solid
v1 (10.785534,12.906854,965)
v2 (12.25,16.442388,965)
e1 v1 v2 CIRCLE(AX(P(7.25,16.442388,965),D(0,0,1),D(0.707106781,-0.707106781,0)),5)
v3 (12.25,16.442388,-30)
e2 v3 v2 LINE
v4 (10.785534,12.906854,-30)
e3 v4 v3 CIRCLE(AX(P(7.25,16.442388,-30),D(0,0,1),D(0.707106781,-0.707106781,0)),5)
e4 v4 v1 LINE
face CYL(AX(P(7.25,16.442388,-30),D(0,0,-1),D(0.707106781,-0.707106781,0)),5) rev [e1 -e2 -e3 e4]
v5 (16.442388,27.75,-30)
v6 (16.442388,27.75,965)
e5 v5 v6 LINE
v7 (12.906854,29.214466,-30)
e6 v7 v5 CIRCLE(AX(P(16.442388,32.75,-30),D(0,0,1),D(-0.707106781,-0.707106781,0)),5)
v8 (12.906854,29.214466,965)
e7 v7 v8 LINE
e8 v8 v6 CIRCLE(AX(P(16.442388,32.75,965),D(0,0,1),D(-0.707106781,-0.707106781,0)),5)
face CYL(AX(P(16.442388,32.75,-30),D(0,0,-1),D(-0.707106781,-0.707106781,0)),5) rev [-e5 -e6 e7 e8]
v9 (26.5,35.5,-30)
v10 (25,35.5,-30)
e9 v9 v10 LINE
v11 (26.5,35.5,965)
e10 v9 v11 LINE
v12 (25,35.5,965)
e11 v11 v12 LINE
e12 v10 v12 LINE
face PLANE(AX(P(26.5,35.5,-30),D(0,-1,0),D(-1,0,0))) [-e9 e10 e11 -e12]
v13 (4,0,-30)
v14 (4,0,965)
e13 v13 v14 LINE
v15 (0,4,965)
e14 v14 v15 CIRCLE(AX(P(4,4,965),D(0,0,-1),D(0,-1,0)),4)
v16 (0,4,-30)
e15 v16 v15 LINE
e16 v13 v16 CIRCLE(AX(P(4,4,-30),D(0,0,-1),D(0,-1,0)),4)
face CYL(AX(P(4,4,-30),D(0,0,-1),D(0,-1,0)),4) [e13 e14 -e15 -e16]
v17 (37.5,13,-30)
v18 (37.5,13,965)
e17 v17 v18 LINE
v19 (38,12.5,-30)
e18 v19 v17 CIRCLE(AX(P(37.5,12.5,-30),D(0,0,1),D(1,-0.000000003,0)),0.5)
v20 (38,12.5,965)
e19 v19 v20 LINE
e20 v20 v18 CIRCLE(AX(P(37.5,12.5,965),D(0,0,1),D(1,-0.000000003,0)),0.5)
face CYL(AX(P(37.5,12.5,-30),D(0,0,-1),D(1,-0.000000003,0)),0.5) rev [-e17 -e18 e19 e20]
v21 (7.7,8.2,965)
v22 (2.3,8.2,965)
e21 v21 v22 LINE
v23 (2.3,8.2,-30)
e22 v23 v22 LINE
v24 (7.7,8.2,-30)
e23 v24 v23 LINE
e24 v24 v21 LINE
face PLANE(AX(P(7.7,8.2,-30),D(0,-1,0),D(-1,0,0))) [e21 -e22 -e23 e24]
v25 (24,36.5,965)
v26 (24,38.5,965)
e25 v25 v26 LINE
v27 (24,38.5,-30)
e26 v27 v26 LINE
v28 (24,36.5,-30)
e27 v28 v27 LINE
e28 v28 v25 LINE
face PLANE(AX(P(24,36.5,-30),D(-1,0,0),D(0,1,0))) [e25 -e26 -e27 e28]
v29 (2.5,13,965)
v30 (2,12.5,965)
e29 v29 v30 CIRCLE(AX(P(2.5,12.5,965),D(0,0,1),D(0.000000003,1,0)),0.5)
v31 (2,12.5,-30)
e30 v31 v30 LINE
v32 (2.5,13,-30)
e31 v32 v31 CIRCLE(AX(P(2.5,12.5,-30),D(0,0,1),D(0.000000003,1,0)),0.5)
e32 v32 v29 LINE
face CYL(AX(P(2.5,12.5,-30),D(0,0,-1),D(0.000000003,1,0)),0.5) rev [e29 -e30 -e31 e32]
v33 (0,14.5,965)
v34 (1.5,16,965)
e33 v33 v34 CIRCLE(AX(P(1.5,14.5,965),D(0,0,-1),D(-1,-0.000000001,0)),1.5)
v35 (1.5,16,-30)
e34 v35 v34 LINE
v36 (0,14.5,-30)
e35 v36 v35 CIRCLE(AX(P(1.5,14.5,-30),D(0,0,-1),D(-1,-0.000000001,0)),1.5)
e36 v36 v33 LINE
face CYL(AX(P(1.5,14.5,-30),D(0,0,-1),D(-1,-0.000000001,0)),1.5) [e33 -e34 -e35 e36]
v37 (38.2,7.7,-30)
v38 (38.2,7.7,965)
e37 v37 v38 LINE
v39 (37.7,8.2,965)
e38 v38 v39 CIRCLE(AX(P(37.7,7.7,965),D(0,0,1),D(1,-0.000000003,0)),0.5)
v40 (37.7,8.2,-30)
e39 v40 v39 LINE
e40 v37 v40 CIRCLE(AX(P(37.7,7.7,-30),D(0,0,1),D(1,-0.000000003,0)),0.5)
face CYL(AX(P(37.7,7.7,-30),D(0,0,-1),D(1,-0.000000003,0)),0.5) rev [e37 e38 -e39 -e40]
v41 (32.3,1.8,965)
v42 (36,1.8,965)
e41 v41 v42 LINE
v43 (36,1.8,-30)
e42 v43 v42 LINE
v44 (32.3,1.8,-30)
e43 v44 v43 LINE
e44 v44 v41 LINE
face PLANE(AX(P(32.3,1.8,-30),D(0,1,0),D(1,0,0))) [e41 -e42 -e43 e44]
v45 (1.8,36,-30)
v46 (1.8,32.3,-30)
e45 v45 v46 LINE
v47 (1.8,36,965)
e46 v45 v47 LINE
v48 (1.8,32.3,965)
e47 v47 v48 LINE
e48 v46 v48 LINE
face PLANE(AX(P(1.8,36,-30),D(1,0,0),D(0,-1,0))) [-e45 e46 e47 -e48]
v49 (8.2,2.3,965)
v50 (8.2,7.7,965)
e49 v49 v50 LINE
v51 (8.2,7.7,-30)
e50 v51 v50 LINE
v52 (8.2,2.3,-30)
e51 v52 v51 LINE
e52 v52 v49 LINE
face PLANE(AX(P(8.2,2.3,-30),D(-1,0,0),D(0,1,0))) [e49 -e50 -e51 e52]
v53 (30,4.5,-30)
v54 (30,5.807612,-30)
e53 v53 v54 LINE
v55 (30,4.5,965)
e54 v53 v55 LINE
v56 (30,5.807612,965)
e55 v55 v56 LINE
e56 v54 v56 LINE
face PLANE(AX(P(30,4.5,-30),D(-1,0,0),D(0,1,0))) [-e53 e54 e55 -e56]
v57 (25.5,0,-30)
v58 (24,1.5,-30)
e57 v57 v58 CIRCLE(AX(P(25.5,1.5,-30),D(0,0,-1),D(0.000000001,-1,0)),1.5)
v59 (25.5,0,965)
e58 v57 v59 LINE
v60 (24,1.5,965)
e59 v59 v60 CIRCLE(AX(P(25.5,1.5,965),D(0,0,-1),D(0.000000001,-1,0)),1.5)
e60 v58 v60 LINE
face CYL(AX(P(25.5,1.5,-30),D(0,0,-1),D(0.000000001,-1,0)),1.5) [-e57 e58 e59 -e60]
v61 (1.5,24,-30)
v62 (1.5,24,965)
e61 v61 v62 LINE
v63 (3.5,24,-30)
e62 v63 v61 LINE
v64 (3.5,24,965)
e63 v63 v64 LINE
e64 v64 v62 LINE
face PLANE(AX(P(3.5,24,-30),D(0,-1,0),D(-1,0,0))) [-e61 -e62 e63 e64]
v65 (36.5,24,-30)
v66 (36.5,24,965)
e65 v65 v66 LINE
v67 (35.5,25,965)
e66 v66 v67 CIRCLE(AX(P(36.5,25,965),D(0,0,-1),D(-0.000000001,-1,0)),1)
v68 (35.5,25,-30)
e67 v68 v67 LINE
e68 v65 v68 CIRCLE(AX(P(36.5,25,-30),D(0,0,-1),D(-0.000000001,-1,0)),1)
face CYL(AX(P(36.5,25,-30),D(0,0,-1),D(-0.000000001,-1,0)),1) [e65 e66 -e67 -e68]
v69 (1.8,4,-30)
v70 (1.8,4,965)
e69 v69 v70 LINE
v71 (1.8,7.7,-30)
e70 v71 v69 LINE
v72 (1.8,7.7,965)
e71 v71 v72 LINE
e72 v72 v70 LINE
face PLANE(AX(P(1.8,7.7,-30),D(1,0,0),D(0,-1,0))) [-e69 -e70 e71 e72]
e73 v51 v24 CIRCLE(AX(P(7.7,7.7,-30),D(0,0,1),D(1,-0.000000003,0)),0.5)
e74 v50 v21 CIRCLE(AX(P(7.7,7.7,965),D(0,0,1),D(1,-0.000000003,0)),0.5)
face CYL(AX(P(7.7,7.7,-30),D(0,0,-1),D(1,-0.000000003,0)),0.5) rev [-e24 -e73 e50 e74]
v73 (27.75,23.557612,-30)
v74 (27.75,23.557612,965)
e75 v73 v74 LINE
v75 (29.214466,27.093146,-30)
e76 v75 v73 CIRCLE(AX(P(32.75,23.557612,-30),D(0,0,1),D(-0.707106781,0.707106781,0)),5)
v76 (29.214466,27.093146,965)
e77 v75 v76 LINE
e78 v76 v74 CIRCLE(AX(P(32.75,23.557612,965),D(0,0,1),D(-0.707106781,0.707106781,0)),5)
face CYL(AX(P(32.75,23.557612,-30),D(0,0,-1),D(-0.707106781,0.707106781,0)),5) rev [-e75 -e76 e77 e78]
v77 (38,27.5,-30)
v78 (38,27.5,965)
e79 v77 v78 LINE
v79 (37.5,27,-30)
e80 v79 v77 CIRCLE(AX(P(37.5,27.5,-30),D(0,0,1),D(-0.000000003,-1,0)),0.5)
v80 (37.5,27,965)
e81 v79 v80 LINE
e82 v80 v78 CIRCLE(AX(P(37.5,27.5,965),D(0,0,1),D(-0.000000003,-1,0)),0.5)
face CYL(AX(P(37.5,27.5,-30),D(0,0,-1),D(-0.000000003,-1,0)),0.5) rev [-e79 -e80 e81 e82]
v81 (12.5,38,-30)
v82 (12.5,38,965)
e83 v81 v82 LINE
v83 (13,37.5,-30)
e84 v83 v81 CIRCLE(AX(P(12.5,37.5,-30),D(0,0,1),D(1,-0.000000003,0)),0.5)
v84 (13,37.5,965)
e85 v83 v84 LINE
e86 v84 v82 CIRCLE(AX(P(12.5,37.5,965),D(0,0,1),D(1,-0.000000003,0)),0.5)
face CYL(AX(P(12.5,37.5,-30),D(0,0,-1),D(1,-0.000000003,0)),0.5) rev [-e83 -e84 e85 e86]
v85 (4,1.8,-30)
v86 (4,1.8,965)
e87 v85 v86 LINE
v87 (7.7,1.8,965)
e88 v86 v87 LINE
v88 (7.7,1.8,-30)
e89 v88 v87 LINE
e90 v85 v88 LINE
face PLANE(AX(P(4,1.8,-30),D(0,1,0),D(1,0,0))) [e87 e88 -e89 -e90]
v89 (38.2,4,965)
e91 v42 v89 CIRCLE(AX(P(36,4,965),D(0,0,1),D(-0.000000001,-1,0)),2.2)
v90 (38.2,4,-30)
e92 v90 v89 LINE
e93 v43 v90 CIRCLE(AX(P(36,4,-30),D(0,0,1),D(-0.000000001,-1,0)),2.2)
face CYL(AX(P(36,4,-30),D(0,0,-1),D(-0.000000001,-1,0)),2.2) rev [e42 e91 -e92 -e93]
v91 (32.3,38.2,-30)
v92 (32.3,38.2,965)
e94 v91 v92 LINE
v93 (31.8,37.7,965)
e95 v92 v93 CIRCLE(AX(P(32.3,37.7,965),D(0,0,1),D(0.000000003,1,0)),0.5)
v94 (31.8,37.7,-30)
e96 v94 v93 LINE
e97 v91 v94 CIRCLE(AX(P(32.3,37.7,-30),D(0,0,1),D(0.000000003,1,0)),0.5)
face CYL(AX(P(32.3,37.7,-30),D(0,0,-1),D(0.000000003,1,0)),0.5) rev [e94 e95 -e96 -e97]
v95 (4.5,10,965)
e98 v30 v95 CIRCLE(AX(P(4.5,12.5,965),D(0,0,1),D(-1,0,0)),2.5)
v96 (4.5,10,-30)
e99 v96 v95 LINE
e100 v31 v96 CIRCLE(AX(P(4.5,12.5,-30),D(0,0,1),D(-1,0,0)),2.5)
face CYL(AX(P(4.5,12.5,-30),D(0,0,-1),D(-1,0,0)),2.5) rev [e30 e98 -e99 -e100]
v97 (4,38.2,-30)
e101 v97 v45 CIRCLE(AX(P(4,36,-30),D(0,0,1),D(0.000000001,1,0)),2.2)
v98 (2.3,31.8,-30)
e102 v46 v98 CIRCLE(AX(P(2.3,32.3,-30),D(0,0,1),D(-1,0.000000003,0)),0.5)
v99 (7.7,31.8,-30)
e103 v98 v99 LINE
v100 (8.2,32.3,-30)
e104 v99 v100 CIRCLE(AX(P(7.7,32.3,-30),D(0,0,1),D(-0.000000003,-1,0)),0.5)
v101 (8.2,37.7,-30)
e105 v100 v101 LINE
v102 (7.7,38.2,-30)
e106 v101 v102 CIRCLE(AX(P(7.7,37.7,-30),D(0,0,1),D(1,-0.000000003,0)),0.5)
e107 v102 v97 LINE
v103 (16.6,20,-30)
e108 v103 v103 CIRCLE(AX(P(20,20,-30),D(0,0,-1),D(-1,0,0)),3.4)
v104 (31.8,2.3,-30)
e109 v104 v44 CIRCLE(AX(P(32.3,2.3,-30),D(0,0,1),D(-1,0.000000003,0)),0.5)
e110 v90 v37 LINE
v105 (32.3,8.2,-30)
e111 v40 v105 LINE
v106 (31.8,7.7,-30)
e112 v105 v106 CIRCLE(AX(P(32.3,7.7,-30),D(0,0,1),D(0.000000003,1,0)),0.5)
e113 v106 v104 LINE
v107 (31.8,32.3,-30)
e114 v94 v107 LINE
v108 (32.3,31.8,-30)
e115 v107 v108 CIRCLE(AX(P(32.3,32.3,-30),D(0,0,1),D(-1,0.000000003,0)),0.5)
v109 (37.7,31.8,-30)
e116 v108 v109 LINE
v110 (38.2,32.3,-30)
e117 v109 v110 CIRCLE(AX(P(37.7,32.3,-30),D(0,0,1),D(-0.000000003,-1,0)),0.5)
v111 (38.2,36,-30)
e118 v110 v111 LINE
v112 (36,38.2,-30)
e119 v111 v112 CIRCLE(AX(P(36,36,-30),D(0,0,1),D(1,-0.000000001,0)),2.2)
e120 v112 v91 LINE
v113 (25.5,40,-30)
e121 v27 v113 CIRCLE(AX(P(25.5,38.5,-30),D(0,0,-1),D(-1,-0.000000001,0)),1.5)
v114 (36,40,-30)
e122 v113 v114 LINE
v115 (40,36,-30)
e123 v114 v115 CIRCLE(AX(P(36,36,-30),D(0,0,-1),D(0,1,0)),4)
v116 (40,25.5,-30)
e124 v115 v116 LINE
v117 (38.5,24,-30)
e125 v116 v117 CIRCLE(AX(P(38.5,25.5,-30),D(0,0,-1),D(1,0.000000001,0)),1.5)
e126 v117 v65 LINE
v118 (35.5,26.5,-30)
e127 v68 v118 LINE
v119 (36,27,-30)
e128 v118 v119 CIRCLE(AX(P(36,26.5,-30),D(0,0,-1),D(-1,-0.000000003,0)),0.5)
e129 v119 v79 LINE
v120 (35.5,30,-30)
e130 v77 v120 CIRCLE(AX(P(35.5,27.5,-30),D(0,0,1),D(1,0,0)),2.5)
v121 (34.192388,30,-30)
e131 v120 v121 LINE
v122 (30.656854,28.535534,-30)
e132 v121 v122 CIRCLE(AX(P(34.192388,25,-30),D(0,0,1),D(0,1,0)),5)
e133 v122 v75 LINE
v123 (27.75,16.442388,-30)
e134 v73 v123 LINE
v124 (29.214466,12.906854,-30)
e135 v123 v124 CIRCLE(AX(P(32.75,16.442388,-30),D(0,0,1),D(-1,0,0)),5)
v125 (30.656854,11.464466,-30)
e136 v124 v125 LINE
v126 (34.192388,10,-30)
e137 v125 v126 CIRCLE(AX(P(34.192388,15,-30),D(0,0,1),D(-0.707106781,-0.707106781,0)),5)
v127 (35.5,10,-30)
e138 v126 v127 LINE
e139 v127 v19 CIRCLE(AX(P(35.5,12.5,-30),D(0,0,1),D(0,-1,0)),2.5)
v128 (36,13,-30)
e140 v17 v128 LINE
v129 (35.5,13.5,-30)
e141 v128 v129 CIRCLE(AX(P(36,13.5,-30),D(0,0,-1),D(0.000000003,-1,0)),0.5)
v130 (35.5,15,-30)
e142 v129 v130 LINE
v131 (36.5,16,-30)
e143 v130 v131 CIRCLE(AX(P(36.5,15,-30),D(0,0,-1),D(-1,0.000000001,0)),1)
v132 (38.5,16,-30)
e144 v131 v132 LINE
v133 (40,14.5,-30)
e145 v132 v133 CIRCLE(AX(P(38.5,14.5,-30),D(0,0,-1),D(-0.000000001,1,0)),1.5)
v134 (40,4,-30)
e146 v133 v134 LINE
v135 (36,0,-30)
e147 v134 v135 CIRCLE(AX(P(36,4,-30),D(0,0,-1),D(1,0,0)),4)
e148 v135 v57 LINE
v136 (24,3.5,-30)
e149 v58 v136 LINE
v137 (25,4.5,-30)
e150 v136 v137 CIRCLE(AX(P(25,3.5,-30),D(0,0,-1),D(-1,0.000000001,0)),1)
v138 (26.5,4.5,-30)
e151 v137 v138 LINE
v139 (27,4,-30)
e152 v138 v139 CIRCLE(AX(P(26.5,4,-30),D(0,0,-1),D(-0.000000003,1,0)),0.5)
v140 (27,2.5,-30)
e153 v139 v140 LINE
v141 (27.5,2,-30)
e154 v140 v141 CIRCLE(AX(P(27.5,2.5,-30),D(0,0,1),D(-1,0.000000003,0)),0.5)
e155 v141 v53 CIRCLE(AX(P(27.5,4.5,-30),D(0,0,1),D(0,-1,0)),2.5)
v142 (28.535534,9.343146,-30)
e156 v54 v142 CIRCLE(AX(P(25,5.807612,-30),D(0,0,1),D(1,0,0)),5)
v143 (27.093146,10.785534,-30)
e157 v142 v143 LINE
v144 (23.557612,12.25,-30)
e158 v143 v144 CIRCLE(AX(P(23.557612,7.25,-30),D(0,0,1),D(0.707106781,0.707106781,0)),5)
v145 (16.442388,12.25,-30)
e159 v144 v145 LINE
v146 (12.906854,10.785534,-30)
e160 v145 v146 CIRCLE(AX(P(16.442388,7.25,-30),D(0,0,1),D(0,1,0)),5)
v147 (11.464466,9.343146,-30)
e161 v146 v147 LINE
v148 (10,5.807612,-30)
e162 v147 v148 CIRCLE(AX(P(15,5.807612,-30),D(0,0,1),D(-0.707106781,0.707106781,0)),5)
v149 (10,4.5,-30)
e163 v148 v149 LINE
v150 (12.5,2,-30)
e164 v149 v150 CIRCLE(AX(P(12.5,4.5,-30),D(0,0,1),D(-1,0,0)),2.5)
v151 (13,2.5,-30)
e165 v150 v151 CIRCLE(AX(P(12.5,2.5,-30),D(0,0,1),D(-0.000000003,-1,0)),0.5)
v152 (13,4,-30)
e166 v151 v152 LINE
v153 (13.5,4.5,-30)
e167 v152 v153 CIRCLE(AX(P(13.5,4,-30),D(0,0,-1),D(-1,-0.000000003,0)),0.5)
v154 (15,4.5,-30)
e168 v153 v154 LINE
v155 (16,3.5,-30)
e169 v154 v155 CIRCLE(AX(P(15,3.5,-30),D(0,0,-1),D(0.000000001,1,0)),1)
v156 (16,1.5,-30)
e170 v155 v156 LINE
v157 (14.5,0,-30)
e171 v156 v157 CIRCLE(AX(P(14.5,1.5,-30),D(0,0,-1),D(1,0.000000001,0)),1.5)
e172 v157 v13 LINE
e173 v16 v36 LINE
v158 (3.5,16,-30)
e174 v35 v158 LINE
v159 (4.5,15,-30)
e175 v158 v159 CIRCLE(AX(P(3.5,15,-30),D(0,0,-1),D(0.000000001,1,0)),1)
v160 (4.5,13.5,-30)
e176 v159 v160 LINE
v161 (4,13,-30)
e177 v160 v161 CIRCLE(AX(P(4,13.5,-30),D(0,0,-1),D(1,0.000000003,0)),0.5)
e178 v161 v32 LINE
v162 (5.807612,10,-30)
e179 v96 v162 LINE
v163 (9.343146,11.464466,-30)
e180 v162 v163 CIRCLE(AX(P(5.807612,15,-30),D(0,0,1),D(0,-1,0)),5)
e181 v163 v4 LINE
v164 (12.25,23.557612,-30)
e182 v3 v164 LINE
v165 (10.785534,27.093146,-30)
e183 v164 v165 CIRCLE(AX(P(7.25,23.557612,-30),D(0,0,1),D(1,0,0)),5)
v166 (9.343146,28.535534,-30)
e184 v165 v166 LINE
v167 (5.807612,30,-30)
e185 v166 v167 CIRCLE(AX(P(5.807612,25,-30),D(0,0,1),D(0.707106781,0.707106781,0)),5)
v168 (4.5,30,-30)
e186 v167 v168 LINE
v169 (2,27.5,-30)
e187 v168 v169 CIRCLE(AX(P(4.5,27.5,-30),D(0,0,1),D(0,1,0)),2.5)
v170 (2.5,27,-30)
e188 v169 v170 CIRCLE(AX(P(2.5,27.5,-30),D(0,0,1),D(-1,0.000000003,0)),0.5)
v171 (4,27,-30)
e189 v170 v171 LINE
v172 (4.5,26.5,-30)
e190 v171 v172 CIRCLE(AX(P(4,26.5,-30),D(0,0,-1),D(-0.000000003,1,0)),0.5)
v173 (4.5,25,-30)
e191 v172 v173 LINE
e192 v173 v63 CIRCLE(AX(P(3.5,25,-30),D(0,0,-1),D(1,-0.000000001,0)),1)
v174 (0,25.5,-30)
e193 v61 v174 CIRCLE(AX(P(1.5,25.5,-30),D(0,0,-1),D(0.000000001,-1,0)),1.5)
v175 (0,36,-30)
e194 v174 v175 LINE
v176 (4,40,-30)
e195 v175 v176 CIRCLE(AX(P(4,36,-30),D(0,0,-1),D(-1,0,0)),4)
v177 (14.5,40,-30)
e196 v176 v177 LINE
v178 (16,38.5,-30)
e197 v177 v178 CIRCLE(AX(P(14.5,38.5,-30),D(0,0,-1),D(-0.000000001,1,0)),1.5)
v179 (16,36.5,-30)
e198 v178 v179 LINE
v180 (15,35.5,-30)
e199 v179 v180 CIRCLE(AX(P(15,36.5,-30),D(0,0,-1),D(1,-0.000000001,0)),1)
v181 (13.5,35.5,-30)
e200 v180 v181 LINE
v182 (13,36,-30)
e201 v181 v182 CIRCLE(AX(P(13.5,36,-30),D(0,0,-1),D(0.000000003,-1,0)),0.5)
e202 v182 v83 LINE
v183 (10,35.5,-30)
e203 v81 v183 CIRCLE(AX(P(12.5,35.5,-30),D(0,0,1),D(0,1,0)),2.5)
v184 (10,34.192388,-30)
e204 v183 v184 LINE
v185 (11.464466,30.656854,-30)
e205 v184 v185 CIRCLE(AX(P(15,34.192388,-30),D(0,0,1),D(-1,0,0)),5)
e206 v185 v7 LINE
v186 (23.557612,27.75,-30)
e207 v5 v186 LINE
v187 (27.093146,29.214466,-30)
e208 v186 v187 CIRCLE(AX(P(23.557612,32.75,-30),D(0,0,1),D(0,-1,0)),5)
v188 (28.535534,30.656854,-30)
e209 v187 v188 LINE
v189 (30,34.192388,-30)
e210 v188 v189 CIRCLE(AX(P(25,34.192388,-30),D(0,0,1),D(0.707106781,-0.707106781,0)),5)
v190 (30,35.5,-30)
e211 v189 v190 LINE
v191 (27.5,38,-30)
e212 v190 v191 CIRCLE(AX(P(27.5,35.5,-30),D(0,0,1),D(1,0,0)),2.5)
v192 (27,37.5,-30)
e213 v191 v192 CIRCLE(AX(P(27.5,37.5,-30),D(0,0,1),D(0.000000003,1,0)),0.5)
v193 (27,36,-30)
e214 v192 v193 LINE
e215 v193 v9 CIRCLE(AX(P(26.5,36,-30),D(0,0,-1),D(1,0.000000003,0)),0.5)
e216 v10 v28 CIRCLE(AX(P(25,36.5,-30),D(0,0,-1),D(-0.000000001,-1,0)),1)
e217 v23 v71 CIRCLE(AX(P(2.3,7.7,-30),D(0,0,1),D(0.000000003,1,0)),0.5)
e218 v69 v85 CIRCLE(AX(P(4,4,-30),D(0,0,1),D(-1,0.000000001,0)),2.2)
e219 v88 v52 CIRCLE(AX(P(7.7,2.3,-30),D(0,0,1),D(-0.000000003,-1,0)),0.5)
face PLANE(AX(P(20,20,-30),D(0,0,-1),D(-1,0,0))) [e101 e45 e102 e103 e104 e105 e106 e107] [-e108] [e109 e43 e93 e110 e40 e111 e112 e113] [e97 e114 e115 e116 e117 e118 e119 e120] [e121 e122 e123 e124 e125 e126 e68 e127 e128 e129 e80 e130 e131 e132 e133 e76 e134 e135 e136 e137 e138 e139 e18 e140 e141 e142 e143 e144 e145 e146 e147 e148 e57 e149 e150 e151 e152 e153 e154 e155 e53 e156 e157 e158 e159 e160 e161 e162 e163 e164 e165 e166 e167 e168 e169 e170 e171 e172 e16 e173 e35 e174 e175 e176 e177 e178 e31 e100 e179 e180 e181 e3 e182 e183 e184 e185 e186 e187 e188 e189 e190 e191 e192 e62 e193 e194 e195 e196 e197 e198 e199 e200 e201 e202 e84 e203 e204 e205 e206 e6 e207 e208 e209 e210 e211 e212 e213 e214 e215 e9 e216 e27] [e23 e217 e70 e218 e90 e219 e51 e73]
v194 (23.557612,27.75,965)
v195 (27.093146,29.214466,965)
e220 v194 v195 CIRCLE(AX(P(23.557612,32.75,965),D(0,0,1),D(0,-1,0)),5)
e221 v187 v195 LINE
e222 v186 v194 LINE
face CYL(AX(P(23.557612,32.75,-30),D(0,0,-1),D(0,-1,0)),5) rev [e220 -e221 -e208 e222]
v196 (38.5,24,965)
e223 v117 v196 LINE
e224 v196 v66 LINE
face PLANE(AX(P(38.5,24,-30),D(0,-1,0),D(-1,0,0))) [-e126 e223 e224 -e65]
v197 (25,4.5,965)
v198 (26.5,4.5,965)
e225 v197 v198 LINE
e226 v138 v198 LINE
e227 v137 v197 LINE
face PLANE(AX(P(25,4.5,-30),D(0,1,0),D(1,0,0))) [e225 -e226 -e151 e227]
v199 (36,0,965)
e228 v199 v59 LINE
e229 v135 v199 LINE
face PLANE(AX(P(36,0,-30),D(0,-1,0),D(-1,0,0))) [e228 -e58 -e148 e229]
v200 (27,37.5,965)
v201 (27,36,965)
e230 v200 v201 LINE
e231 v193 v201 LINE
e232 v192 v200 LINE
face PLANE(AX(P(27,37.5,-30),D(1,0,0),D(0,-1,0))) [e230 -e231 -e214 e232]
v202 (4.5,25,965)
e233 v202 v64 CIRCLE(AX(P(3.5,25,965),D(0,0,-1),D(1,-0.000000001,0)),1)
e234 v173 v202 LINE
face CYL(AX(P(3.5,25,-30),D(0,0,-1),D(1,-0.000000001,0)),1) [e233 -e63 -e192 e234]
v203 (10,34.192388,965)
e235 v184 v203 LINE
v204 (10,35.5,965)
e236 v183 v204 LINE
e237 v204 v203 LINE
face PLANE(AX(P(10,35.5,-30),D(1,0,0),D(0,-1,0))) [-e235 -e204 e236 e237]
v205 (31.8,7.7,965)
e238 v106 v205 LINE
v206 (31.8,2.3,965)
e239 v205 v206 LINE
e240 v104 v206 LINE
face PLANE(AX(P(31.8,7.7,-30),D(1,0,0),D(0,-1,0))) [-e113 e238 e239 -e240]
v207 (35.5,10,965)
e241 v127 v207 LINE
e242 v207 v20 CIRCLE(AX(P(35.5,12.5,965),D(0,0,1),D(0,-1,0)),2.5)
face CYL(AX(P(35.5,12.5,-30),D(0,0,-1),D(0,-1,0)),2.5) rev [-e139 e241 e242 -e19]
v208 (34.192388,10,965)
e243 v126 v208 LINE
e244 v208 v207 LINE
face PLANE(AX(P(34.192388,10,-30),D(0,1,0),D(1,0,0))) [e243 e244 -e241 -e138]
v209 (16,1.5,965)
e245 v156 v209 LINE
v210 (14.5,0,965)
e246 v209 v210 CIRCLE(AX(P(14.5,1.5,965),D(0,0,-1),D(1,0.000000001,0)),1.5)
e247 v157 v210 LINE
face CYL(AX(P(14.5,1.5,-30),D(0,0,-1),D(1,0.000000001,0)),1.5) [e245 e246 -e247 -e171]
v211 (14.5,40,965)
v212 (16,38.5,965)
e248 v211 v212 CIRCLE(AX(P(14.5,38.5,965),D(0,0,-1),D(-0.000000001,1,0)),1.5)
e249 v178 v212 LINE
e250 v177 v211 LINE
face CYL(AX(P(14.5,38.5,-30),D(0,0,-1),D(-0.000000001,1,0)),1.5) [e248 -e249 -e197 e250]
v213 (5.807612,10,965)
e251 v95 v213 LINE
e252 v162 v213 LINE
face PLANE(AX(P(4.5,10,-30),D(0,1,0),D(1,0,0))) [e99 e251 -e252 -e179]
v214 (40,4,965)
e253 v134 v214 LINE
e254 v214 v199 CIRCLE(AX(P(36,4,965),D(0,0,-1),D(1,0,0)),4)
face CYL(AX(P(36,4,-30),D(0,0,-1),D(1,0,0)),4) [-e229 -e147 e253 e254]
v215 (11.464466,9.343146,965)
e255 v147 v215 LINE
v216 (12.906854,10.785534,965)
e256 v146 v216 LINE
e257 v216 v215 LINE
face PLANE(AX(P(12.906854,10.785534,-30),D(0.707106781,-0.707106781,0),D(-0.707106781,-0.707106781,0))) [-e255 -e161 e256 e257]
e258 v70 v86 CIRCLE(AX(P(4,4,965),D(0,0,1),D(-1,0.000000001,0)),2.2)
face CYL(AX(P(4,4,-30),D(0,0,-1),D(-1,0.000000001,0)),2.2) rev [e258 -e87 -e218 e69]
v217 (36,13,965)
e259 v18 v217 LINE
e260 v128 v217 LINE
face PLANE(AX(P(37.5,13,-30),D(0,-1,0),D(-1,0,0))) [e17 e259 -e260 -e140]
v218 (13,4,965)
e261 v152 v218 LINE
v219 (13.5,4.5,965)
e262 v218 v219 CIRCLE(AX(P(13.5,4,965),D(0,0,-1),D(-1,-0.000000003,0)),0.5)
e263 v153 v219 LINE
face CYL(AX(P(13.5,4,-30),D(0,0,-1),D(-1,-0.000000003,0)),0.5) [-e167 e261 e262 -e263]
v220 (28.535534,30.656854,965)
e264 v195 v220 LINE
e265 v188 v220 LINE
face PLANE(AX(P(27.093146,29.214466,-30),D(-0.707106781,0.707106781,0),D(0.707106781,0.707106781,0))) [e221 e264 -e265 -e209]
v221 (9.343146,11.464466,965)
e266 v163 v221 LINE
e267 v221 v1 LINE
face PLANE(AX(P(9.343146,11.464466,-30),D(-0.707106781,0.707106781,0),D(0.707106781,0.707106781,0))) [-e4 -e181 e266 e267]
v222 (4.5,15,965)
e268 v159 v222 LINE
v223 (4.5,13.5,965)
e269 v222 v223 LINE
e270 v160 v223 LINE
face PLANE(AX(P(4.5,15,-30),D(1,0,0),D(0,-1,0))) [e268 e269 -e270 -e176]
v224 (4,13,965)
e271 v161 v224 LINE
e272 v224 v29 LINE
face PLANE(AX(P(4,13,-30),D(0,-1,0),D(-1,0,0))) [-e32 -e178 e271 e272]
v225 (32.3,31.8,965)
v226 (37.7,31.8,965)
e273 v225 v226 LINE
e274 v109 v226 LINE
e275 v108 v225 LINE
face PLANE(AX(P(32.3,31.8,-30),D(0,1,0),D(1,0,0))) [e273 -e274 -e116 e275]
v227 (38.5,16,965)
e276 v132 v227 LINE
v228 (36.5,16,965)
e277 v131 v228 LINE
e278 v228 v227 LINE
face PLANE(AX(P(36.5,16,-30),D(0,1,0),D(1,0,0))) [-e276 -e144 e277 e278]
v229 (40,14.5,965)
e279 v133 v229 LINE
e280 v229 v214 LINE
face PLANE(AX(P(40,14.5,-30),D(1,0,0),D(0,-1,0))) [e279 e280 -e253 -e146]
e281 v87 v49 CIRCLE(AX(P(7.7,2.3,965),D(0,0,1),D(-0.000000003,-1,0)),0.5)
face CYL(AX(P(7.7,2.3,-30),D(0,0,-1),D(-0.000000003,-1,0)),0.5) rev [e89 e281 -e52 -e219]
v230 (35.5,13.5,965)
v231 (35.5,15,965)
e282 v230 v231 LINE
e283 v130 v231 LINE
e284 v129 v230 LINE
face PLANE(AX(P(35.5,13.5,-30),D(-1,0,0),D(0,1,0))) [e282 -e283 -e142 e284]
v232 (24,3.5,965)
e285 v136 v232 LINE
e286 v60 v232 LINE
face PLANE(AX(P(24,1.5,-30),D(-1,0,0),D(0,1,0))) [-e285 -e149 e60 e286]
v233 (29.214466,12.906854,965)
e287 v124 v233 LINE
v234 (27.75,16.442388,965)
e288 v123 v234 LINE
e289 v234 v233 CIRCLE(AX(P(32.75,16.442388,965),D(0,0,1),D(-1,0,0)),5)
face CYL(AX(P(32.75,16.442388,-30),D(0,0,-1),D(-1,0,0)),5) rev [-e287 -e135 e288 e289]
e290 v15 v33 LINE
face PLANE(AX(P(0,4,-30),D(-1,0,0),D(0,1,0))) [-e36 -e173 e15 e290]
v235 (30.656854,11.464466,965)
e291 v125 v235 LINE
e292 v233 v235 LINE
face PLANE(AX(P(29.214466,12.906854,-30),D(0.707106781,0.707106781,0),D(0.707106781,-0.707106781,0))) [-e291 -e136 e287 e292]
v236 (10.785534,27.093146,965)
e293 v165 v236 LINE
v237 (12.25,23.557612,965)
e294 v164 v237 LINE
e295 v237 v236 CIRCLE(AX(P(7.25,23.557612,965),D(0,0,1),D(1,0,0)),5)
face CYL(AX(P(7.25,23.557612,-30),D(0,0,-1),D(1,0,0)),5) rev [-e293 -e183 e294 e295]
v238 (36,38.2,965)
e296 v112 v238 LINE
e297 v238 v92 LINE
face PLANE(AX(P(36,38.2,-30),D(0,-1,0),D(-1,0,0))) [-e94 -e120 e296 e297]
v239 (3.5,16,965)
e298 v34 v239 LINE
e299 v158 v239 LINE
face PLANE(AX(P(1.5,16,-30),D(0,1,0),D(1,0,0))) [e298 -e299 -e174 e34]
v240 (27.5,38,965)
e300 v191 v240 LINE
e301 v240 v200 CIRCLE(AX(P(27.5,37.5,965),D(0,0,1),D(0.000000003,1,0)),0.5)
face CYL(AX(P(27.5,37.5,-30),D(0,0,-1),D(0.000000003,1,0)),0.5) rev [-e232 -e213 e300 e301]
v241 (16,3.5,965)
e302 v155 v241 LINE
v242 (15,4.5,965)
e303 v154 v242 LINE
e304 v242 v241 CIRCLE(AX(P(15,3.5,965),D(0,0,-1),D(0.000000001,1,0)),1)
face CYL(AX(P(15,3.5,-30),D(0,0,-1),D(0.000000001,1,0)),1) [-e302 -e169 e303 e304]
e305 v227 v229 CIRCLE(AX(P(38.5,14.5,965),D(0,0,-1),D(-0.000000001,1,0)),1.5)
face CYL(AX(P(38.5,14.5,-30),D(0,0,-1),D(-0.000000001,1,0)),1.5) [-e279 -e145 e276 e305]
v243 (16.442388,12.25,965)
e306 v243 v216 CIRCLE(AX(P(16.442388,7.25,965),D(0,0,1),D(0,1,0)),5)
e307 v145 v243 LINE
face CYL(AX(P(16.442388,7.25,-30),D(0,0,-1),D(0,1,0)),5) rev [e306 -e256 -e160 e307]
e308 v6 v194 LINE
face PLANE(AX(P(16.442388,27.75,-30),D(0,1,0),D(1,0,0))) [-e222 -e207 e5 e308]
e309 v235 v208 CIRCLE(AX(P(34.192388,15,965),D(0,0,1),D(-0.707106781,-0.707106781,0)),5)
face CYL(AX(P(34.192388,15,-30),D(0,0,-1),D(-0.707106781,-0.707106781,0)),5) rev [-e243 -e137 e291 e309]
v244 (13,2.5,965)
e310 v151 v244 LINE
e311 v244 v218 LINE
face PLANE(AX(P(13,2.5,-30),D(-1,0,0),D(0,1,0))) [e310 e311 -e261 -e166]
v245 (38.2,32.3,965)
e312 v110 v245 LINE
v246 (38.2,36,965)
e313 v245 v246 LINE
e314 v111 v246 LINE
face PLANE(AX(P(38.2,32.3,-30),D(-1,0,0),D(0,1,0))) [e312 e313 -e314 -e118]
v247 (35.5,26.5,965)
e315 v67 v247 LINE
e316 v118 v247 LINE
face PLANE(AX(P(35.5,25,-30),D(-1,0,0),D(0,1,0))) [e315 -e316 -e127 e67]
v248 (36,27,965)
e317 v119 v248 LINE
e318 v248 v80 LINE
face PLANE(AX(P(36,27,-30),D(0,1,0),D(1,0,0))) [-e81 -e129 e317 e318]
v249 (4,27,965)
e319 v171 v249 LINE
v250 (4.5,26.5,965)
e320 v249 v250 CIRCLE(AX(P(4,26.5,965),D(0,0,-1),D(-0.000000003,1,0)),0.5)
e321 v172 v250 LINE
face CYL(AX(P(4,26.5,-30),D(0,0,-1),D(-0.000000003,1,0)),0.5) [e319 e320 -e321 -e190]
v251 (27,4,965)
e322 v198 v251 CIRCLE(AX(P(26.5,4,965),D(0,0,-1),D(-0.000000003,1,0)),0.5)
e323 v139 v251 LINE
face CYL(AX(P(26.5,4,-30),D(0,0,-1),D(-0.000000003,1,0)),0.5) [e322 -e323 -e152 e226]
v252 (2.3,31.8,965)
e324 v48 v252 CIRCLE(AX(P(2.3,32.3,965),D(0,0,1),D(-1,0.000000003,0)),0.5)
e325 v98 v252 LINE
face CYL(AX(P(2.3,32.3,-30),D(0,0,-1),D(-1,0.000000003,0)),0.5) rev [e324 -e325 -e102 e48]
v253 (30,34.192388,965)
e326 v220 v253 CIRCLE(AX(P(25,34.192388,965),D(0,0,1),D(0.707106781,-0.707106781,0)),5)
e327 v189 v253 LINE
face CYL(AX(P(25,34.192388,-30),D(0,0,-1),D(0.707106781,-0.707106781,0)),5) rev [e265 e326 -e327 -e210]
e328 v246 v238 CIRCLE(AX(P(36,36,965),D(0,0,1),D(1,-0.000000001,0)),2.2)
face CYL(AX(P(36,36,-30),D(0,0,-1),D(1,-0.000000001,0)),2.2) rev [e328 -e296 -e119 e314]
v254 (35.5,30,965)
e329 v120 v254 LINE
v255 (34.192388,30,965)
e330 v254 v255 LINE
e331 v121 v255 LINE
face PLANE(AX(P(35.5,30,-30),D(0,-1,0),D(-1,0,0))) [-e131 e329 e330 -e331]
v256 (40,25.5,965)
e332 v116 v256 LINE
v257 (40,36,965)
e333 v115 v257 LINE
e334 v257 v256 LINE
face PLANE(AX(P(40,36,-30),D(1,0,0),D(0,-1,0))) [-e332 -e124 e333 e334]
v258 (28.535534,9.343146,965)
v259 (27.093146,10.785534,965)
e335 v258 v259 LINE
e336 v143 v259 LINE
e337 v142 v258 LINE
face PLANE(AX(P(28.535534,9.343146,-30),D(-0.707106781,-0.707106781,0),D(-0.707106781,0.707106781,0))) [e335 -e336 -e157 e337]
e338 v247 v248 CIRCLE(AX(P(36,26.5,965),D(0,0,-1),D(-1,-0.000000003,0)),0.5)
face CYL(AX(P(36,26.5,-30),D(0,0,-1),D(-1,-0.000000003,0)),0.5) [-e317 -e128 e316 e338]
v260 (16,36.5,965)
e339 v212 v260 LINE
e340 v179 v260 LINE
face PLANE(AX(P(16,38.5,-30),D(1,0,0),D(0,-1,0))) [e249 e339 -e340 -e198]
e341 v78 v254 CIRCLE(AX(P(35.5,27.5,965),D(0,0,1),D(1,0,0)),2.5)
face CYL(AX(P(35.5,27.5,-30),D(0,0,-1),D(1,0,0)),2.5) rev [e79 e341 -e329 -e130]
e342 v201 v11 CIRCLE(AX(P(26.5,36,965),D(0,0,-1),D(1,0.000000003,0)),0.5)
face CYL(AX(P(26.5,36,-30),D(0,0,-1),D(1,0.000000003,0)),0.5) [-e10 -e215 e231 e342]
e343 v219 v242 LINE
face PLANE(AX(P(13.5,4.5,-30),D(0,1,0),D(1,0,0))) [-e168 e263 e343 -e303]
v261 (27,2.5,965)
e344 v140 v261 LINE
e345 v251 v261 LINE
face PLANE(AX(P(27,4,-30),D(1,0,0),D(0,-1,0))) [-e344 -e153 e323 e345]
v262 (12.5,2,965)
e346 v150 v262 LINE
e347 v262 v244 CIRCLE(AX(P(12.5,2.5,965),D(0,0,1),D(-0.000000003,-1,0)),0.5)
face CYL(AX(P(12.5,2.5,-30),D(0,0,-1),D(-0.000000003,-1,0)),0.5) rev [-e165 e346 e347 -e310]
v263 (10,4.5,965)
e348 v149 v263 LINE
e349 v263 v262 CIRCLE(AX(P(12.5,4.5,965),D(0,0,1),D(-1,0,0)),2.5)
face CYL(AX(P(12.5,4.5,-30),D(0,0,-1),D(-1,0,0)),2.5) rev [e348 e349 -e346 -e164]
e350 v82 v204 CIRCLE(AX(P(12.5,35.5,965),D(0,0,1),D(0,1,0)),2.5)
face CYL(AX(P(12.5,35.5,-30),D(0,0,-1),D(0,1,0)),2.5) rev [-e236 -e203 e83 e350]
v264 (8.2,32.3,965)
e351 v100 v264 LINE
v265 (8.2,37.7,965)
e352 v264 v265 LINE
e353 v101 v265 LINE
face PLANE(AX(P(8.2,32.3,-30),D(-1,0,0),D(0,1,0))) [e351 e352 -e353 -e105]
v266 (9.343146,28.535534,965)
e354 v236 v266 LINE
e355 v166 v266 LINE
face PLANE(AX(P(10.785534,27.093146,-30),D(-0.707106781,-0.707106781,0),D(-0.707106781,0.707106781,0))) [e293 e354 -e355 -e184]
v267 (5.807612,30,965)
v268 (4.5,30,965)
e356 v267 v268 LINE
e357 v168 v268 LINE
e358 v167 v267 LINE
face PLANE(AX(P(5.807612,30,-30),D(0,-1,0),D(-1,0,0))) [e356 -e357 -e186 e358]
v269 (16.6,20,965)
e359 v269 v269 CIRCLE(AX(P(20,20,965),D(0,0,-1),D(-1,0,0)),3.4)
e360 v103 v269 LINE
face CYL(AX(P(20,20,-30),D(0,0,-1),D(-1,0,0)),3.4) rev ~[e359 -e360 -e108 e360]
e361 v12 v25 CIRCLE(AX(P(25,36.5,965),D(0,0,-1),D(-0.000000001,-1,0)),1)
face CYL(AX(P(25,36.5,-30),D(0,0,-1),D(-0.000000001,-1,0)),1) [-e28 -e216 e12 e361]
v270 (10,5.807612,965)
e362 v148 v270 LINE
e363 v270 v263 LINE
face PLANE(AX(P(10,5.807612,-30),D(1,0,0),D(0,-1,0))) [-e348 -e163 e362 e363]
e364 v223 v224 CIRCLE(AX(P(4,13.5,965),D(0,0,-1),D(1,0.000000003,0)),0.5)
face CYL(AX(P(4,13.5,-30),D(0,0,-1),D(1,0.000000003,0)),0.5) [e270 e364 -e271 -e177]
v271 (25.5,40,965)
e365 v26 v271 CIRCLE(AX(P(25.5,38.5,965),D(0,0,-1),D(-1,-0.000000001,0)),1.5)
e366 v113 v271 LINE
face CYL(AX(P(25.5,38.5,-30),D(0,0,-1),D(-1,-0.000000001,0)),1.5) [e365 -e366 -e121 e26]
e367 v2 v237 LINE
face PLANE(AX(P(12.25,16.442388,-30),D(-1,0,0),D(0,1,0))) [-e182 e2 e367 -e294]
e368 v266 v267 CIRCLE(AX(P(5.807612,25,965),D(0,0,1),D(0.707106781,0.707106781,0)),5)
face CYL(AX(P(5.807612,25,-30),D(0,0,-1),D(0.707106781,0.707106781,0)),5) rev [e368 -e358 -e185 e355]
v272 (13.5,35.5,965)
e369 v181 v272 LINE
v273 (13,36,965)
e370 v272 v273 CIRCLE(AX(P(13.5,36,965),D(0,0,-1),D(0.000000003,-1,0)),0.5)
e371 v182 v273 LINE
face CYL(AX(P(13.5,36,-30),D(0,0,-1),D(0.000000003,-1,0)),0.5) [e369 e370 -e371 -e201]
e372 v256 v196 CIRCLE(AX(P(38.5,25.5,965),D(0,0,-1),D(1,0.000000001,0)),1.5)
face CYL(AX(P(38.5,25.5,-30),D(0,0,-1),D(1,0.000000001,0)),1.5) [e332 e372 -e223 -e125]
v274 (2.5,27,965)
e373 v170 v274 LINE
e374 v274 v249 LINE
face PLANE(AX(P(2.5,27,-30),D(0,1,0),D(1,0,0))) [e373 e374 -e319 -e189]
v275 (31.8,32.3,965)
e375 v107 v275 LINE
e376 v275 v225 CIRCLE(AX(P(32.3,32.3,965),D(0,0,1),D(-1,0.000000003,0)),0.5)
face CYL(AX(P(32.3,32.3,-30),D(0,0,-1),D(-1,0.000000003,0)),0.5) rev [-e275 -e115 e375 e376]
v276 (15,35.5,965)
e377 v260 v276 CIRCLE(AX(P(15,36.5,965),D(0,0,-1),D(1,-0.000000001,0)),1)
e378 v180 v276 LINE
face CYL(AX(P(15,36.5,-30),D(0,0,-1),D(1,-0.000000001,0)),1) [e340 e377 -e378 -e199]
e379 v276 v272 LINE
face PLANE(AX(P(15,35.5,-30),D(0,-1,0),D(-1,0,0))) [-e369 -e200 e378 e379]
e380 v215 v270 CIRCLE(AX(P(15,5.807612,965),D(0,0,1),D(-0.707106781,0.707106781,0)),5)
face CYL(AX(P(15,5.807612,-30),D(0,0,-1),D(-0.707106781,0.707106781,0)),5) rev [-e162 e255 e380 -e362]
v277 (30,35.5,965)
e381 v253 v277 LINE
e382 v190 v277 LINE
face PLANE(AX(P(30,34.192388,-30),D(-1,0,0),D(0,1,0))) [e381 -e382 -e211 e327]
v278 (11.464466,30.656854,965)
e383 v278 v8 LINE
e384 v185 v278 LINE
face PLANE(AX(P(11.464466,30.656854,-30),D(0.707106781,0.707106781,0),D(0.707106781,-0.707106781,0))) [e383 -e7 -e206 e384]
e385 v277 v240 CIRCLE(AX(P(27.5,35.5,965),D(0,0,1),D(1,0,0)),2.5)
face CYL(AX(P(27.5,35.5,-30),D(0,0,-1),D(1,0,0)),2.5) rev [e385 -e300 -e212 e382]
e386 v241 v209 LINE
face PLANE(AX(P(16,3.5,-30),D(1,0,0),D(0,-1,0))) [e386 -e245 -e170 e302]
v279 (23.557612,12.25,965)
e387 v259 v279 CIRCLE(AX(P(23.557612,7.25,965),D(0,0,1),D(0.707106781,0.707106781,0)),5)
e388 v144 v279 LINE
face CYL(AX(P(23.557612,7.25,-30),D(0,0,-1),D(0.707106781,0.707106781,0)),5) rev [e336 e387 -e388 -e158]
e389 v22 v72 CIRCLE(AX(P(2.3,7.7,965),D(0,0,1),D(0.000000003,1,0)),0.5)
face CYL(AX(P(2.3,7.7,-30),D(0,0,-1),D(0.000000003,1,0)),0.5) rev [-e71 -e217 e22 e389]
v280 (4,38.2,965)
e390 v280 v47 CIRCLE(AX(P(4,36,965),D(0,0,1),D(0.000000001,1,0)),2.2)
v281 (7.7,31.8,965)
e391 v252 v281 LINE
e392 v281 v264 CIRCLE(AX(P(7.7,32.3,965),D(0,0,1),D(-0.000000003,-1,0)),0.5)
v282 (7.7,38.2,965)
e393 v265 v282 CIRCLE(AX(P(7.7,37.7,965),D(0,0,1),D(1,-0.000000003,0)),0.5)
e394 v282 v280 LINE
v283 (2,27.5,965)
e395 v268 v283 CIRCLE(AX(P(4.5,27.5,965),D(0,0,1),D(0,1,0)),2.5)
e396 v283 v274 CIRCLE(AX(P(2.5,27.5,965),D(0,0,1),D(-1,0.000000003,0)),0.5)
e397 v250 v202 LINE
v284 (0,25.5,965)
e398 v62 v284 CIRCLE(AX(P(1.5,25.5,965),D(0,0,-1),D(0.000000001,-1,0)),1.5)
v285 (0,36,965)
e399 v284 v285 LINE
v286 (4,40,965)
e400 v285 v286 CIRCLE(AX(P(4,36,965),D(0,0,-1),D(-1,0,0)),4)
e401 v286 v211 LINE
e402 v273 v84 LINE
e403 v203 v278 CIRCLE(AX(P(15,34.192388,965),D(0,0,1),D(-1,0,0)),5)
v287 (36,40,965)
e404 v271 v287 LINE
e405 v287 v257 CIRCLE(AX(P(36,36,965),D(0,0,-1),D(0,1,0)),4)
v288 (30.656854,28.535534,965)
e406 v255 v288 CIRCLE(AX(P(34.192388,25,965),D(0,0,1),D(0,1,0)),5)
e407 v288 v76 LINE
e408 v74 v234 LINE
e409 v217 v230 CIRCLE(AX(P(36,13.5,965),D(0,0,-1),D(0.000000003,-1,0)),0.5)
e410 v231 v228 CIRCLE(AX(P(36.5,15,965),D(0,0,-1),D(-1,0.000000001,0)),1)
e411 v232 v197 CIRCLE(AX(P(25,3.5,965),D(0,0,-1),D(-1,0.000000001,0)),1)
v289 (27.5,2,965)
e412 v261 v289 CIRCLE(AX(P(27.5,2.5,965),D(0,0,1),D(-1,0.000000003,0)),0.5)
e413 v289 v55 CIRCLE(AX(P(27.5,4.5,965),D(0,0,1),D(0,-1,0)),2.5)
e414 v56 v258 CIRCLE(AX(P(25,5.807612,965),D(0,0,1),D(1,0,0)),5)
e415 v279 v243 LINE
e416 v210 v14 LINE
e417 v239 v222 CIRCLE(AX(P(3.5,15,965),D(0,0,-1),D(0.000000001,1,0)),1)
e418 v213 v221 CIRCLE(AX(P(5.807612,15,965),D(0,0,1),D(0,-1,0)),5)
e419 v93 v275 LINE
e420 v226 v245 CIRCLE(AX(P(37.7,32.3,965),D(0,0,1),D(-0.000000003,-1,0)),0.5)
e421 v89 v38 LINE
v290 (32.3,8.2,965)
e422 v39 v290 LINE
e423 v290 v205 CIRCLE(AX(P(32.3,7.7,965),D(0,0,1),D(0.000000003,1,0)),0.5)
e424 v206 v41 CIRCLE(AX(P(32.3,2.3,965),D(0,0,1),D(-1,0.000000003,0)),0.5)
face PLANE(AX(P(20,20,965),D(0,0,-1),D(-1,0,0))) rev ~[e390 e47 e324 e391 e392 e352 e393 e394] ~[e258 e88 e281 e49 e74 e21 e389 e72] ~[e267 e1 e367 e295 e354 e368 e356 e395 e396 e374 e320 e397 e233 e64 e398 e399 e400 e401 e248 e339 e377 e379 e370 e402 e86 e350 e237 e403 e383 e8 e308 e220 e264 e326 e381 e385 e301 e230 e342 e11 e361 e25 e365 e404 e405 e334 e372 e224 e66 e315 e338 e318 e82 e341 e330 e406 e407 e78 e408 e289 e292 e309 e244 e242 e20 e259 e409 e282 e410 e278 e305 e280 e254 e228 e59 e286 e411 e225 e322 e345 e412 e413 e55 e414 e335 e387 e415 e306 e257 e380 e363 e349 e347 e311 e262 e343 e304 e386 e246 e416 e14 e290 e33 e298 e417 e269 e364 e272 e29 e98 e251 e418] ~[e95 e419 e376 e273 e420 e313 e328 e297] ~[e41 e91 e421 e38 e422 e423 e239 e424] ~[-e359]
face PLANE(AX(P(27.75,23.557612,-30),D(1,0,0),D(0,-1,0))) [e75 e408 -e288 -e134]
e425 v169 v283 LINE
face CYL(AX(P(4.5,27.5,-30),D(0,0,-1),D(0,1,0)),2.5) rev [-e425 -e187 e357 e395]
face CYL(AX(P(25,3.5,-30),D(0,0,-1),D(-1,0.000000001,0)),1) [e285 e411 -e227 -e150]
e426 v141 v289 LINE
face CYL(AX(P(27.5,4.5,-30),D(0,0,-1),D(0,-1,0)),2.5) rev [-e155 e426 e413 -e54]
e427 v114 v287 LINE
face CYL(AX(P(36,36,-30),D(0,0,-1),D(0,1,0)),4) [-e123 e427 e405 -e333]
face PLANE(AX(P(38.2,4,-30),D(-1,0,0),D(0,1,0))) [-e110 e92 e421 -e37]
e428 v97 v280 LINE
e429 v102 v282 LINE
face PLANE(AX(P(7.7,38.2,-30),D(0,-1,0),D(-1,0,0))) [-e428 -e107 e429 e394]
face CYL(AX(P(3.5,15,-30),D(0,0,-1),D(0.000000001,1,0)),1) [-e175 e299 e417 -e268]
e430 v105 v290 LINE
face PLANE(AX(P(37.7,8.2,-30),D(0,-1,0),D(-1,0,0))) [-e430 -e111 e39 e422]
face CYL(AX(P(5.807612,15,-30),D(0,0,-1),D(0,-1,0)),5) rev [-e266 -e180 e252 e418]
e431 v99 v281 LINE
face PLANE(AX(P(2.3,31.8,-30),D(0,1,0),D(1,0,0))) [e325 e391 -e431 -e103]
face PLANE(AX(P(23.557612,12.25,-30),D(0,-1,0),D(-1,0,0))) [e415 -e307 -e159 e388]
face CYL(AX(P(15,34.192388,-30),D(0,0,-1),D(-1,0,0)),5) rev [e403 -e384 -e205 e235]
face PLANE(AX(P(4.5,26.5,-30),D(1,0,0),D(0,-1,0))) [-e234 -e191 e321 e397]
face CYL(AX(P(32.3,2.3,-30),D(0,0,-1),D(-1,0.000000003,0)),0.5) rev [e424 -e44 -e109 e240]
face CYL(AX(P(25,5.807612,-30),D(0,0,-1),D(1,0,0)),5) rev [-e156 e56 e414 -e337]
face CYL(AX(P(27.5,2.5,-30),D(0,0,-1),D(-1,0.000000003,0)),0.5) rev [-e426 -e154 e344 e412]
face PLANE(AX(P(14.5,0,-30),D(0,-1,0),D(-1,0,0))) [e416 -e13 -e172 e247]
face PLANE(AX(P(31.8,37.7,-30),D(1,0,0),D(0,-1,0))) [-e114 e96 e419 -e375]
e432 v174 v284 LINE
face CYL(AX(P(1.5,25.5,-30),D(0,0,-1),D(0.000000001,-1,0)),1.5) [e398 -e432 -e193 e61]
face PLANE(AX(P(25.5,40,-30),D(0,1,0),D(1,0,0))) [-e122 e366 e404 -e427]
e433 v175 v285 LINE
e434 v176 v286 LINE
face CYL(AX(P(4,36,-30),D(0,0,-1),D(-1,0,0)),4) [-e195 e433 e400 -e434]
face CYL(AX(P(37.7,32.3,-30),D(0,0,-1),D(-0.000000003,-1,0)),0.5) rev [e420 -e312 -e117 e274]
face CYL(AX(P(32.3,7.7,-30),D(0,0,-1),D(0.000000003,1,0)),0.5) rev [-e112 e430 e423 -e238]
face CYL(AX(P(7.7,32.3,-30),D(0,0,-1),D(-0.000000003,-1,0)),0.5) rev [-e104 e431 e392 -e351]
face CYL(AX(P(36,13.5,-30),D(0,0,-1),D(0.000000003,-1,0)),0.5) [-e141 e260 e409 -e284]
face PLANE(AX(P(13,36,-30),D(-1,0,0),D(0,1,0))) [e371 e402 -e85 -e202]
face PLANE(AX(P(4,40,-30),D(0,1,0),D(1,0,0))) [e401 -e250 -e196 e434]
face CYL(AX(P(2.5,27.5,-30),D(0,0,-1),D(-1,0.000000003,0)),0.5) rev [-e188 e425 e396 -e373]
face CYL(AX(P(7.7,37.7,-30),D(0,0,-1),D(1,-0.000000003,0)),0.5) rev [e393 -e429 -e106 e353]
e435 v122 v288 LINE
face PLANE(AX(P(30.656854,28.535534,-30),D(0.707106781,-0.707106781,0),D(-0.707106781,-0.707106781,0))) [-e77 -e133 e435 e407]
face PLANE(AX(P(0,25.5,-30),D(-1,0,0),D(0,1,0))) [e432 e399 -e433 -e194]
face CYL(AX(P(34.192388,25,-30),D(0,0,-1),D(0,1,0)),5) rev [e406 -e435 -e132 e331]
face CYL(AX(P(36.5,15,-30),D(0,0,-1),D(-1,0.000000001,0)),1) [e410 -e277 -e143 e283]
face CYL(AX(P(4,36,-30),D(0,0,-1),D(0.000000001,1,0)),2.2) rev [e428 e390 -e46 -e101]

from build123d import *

# Parameters (mm, degrees)
ESQUISSE1_R        = 3.4
BOSS_EXTRU_1_DEPTH = 995


with BuildPart() as part:
    # Esquisse1 → Boss.-Extru.1 (new body)
    with BuildSketch(Plane(origin=(0, 0, -30), x_dir=(-1, 0, 0), z_dir=(0, 0, -1))):
        with BuildLine():
            Line((-4.5, 15), (-4.5, 13.5))
            ThreePointArc((-4.5, 13.5), (-4.353553391, 13.146446609), (-4, 13))
            Line((-4, 13), (-2.5, 13))
            ThreePointArc((-2.5, 13), (-2.146446609, 12.853553391), (-2, 12.5))
            ThreePointArc((-2, 12.5), (-2.732233047, 10.732233047), (-4.5, 10))
            Line((-4.5, 10), (-5.807611845, 10))
            ThreePointArc((-5.807611845, 10), (-7.721029006, 10.380602337), (-9.343145751, 11.464466094))
            Line((-9.343145751, 11.464466094), (-10.785533906, 12.906854249))
            ThreePointArc((-10.785533906, 12.906854249), (-11.869397663, 14.528970994), (-12.25, 16.442388155))
            Line((-12.25, 16.442388155), (-12.25, 23.557611845))
            ThreePointArc((-12.25, 23.557611845), (-11.869397663, 25.471029006), (-10.785533906, 27.093145751))
            Line((-10.785533906, 27.093145751), (-9.343145751, 28.535533906))
            ThreePointArc((-9.343145751, 28.535533906), (-7.721029006, 29.619397663), (-5.807611845, 30))
            Line((-5.807611845, 30), (-4.5, 30))
            ThreePointArc((-4.5, 30), (-2.732233047, 29.267766953), (-2, 27.5))
            ThreePointArc((-2, 27.5), (-2.146446609, 27.146446609), (-2.5, 27))
            Line((-2.5, 27), (-4, 27))
            ThreePointArc((-4, 27), (-4.353553391, 26.853553391), (-4.5, 26.5))
            Line((-4.5, 26.5), (-4.5, 25))
            ThreePointArc((-4.5, 25), (-4.207106781, 24.292893219), (-3.5, 24))
            Line((-3.5, 24), (-1.5, 24))
            ThreePointArc((-1.5, 24), (-0.439339828, 24.439339828), (0, 25.5))
            Line((0, 25.5), (0, 36))
            ThreePointArc((0, 36), (-1.171572875, 38.828427125), (-4, 40))
            Line((-4, 40), (-14.5, 40))
            ThreePointArc((-14.5, 40), (-15.560660172, 39.560660172), (-16, 38.5))
            Line((-16, 38.5), (-16, 36.5))
            ThreePointArc((-16, 36.5), (-15.707106781, 35.792893219), (-15, 35.5))
            Line((-15, 35.5), (-13.5, 35.5))
            ThreePointArc((-13.5, 35.5), (-13.146446609, 35.646446609), (-13, 36))
            Line((-13, 36), (-13, 37.5))
            ThreePointArc((-13, 37.5), (-12.853553391, 37.853553391), (-12.5, 38))
            ThreePointArc((-12.5, 38), (-10.732233047, 37.267766953), (-10, 35.5))
            Line((-10, 35.5), (-10, 34.192388155))
            ThreePointArc((-10, 34.192388155), (-10.380602337, 32.278970994), (-11.464466094, 30.656854249))
            Line((-11.464466094, 30.656854249), (-12.906854249, 29.214466094))
            ThreePointArc((-12.906854249, 29.214466094), (-14.528970994, 28.130602337), (-16.442388155, 27.75))
            Line((-16.442388155, 27.75), (-23.557611845, 27.75))
            ThreePointArc((-23.557611845, 27.75), (-25.471029006, 28.130602337), (-27.093145751, 29.214466094))
            Line((-27.093145751, 29.214466094), (-28.535533906, 30.656854249))
            ThreePointArc((-28.535533906, 30.656854249), (-29.619397663, 32.278970994), (-30, 34.192388155))
            Line((-30, 34.192388155), (-30, 35.5))
            ThreePointArc((-30, 35.5), (-29.267766953, 37.267766953), (-27.5, 38))
            ThreePointArc((-27.5, 38), (-27.146446609, 37.853553391), (-27, 37.5))
            Line((-27, 37.5), (-27, 36))
            ThreePointArc((-27, 36), (-26.853553391, 35.646446609), (-26.5, 35.5))
            Line((-26.5, 35.5), (-25, 35.5))
            ThreePointArc((-25, 35.5), (-24.292893219, 35.792893219), (-24, 36.5))
            Line((-24, 36.5), (-24, 38.5))
            ThreePointArc((-24, 38.5), (-24.439339828, 39.560660172), (-25.5, 40))
            Line((-25.5, 40), (-36, 40))
            ThreePointArc((-36, 40), (-38.828427125, 38.828427125), (-40, 36))
            Line((-40, 36), (-40, 25.5))
            ThreePointArc((-40, 25.5), (-39.560660172, 24.439339828), (-38.5, 24))
            Line((-38.5, 24), (-36.5, 24))
            ThreePointArc((-36.5, 24), (-35.792893219, 24.292893219), (-35.5, 25))
            Line((-35.5, 25), (-35.5, 26.5))
            ThreePointArc((-35.5, 26.5), (-35.646446609, 26.853553391), (-36, 27))
            Line((-36, 27), (-37.5, 27))
            ThreePointArc((-37.5, 27), (-37.853553391, 27.146446609), (-38, 27.5))
            ThreePointArc((-38, 27.5), (-37.267766953, 29.267766953), (-35.5, 30))
            Line((-35.5, 30), (-34.192388155, 30))
            ThreePointArc((-34.192388155, 30), (-32.278970994, 29.619397663), (-30.656854249, 28.535533906))
            Line((-30.656854249, 28.535533906), (-29.214466094, 27.093145751))
            ThreePointArc((-29.214466094, 27.093145751), (-28.130602337, 25.471029006), (-27.75, 23.557611845))
            Line((-27.75, 23.557611845), (-27.75, 16.442388155))
            ThreePointArc((-27.75, 16.442388155), (-28.130602337, 14.528970994), (-29.214466094, 12.906854249))
            Line((-29.214466094, 12.906854249), (-30.656854249, 11.464466094))
            ThreePointArc((-30.656854249, 11.464466094), (-32.278970994, 10.380602337), (-34.192388155, 10))
            Line((-34.192388155, 10), (-35.5, 10))
            ThreePointArc((-35.5, 10), (-37.267766953, 10.732233047), (-38, 12.5))
            ThreePointArc((-38, 12.5), (-37.853553391, 12.853553391), (-37.5, 13))
            Line((-37.5, 13), (-36, 13))
            ThreePointArc((-36, 13), (-35.646446609, 13.146446609), (-35.5, 13.5))
            Line((-35.5, 13.5), (-35.5, 15))
            ThreePointArc((-35.5, 15), (-35.792893219, 15.707106781), (-36.5, 16))
            Line((-36.5, 16), (-38.5, 16))
            ThreePointArc((-38.5, 16), (-39.560660172, 15.560660172), (-40, 14.5))
            Line((-40, 14.5), (-40, 4))
            ThreePointArc((-40, 4), (-38.828427125, 1.171572875), (-36, 0))
            Line((-36, 0), (-25.5, 0))
            ThreePointArc((-25.5, 0), (-24.439339828, 0.439339828), (-24, 1.5))
            Line((-24, 1.5), (-24, 3.5))
            ThreePointArc((-24, 3.5), (-24.292893219, 4.207106781), (-25, 4.5))
            Line((-25, 4.5), (-26.5, 4.5))
            ThreePointArc((-26.5, 4.5), (-26.853553391, 4.353553391), (-27, 4))
            Line((-27, 4), (-27, 2.5))
            ThreePointArc((-27, 2.5), (-27.146446609, 2.146446609), (-27.5, 2))
            ThreePointArc((-27.5, 2), (-29.267766953, 2.732233047), (-30, 4.5))
            Line((-30, 4.5), (-30, 5.807611845))
            ThreePointArc((-30, 5.807611845), (-29.619397663, 7.721029006), (-28.535533906, 9.343145751))
            Line((-28.535533906, 9.343145751), (-27.093145751, 10.785533906))
            ThreePointArc((-27.093145751, 10.785533906), (-25.471029006, 11.869397663), (-23.557611845, 12.25))
            Line((-23.557611845, 12.25), (-16.442388155, 12.25))
            ThreePointArc((-16.442388155, 12.25), (-14.528970994, 11.869397663), (-12.906854249, 10.785533906))
            Line((-12.906854249, 10.785533906), (-11.464466094, 9.343145751))
            ThreePointArc((-11.464466094, 9.343145751), (-10.380602337, 7.721029006), (-10, 5.807611845))
            Line((-10, 5.807611845), (-10, 4.5))
            ThreePointArc((-10, 4.5), (-10.732233047, 2.732233047), (-12.5, 2))
            ThreePointArc((-12.5, 2), (-12.853553391, 2.146446609), (-13, 2.5))
            Line((-13, 2.5), (-13, 4))
            ThreePointArc((-13, 4), (-13.146446609, 4.353553391), (-13.5, 4.5))
            Line((-13.5, 4.5), (-15, 4.5))
            ThreePointArc((-15, 4.5), (-15.707106781, 4.207106781), (-16, 3.5))
            Line((-16, 3.5), (-16, 1.5))
            ThreePointArc((-16, 1.5), (-15.560660172, 0.439339828), (-14.5, 0))
            Line((-14.5, 0), (-4, 0))
            ThreePointArc((-4, 0), (-1.171572875, 1.171572875), (0, 4))
            Line((0, 4), (0, 14.5))
            ThreePointArc((0, 14.5), (-0.439339828, 15.560660172), (-1.5, 16))
            Line((-1.5, 16), (-3.5, 16))
            ThreePointArc((-3.5, 16), (-4.207106781, 15.707106781), (-4.5, 15))
        make_face()
        with Locations((-20, 20)):
            Circle(ESQUISSE1_R, mode=Mode.SUBTRACT)
        with BuildLine():
            Line((-4, 1.8), (-7.7, 1.8))
            ThreePointArc((-7.7, 1.8), (-8.053553391, 1.946446609), (-8.2, 2.3))
            Line((-8.2, 2.3), (-8.2, 7.7))
            ThreePointArc((-8.2, 7.7), (-8.053553391, 8.053553391), (-7.7, 8.2))
            Line((-7.7, 8.2), (-2.3, 8.2))
            ThreePointArc((-2.3, 8.2), (-1.946446609, 8.053553391), (-1.8, 7.7))
            Line((-1.8, 7.7), (-1.8, 4))
            ThreePointArc((-1.8, 4), (-2.444365081, 2.444365081), (-4, 1.8))
        make_face(mode=Mode.SUBTRACT)
        with BuildLine():
            Line((-38.2, 4), (-38.2, 7.7))
            ThreePointArc((-38.2, 7.7), (-38.053553391, 8.053553391), (-37.7, 8.2))
            Line((-37.7, 8.2), (-32.3, 8.2))
            ThreePointArc((-32.3, 8.2), (-31.946446609, 8.053553391), (-31.8, 7.7))
            Line((-31.8, 7.7), (-31.8, 2.3))
            ThreePointArc((-31.8, 2.3), (-31.946446609, 1.946446609), (-32.3, 1.8))
            Line((-32.3, 1.8), (-36, 1.8))
            ThreePointArc((-36, 1.8), (-37.555634919, 2.444365081), (-38.2, 4))
        make_face(mode=Mode.SUBTRACT)
        with BuildLine():
            Line((-36, 38.2), (-32.3, 38.2))
            ThreePointArc((-32.3, 38.2), (-31.946446609, 38.053553391), (-31.8, 37.7))
            Line((-31.8, 37.7), (-31.8, 32.3))
            ThreePointArc((-31.8, 32.3), (-31.946446609, 31.946446609), (-32.3, 31.8))
            Line((-32.3, 31.8), (-37.7, 31.8))
            ThreePointArc((-37.7, 31.8), (-38.053553391, 31.946446609), (-38.2, 32.3))
            Line((-38.2, 32.3), (-38.2, 36))
            ThreePointArc((-38.2, 36), (-37.555634919, 37.555634919), (-36, 38.2))
        make_face(mode=Mode.SUBTRACT)
        with BuildLine():
            Line((-1.8, 36), (-1.8, 32.3))
            ThreePointArc((-1.8, 32.3), (-1.946446609, 31.946446609), (-2.3, 31.8))
            Line((-2.3, 31.8), (-7.7, 31.8))
            ThreePointArc((-7.7, 31.8), (-8.053553391, 31.946446609), (-8.2, 32.3))
            Line((-8.2, 32.3), (-8.2, 37.7))
            ThreePointArc((-8.2, 37.7), (-8.053553391, 38.053553391), (-7.7, 38.2))
            Line((-7.7, 38.2), (-4, 38.2))
            ThreePointArc((-4, 38.2), (-2.444365081, 37.555634919), (-1.8, 36))
        make_face(mode=Mode.SUBTRACT)
    extrude(amount=-BOSS_EXTRU_1_DEPTH)


solid = part.part
